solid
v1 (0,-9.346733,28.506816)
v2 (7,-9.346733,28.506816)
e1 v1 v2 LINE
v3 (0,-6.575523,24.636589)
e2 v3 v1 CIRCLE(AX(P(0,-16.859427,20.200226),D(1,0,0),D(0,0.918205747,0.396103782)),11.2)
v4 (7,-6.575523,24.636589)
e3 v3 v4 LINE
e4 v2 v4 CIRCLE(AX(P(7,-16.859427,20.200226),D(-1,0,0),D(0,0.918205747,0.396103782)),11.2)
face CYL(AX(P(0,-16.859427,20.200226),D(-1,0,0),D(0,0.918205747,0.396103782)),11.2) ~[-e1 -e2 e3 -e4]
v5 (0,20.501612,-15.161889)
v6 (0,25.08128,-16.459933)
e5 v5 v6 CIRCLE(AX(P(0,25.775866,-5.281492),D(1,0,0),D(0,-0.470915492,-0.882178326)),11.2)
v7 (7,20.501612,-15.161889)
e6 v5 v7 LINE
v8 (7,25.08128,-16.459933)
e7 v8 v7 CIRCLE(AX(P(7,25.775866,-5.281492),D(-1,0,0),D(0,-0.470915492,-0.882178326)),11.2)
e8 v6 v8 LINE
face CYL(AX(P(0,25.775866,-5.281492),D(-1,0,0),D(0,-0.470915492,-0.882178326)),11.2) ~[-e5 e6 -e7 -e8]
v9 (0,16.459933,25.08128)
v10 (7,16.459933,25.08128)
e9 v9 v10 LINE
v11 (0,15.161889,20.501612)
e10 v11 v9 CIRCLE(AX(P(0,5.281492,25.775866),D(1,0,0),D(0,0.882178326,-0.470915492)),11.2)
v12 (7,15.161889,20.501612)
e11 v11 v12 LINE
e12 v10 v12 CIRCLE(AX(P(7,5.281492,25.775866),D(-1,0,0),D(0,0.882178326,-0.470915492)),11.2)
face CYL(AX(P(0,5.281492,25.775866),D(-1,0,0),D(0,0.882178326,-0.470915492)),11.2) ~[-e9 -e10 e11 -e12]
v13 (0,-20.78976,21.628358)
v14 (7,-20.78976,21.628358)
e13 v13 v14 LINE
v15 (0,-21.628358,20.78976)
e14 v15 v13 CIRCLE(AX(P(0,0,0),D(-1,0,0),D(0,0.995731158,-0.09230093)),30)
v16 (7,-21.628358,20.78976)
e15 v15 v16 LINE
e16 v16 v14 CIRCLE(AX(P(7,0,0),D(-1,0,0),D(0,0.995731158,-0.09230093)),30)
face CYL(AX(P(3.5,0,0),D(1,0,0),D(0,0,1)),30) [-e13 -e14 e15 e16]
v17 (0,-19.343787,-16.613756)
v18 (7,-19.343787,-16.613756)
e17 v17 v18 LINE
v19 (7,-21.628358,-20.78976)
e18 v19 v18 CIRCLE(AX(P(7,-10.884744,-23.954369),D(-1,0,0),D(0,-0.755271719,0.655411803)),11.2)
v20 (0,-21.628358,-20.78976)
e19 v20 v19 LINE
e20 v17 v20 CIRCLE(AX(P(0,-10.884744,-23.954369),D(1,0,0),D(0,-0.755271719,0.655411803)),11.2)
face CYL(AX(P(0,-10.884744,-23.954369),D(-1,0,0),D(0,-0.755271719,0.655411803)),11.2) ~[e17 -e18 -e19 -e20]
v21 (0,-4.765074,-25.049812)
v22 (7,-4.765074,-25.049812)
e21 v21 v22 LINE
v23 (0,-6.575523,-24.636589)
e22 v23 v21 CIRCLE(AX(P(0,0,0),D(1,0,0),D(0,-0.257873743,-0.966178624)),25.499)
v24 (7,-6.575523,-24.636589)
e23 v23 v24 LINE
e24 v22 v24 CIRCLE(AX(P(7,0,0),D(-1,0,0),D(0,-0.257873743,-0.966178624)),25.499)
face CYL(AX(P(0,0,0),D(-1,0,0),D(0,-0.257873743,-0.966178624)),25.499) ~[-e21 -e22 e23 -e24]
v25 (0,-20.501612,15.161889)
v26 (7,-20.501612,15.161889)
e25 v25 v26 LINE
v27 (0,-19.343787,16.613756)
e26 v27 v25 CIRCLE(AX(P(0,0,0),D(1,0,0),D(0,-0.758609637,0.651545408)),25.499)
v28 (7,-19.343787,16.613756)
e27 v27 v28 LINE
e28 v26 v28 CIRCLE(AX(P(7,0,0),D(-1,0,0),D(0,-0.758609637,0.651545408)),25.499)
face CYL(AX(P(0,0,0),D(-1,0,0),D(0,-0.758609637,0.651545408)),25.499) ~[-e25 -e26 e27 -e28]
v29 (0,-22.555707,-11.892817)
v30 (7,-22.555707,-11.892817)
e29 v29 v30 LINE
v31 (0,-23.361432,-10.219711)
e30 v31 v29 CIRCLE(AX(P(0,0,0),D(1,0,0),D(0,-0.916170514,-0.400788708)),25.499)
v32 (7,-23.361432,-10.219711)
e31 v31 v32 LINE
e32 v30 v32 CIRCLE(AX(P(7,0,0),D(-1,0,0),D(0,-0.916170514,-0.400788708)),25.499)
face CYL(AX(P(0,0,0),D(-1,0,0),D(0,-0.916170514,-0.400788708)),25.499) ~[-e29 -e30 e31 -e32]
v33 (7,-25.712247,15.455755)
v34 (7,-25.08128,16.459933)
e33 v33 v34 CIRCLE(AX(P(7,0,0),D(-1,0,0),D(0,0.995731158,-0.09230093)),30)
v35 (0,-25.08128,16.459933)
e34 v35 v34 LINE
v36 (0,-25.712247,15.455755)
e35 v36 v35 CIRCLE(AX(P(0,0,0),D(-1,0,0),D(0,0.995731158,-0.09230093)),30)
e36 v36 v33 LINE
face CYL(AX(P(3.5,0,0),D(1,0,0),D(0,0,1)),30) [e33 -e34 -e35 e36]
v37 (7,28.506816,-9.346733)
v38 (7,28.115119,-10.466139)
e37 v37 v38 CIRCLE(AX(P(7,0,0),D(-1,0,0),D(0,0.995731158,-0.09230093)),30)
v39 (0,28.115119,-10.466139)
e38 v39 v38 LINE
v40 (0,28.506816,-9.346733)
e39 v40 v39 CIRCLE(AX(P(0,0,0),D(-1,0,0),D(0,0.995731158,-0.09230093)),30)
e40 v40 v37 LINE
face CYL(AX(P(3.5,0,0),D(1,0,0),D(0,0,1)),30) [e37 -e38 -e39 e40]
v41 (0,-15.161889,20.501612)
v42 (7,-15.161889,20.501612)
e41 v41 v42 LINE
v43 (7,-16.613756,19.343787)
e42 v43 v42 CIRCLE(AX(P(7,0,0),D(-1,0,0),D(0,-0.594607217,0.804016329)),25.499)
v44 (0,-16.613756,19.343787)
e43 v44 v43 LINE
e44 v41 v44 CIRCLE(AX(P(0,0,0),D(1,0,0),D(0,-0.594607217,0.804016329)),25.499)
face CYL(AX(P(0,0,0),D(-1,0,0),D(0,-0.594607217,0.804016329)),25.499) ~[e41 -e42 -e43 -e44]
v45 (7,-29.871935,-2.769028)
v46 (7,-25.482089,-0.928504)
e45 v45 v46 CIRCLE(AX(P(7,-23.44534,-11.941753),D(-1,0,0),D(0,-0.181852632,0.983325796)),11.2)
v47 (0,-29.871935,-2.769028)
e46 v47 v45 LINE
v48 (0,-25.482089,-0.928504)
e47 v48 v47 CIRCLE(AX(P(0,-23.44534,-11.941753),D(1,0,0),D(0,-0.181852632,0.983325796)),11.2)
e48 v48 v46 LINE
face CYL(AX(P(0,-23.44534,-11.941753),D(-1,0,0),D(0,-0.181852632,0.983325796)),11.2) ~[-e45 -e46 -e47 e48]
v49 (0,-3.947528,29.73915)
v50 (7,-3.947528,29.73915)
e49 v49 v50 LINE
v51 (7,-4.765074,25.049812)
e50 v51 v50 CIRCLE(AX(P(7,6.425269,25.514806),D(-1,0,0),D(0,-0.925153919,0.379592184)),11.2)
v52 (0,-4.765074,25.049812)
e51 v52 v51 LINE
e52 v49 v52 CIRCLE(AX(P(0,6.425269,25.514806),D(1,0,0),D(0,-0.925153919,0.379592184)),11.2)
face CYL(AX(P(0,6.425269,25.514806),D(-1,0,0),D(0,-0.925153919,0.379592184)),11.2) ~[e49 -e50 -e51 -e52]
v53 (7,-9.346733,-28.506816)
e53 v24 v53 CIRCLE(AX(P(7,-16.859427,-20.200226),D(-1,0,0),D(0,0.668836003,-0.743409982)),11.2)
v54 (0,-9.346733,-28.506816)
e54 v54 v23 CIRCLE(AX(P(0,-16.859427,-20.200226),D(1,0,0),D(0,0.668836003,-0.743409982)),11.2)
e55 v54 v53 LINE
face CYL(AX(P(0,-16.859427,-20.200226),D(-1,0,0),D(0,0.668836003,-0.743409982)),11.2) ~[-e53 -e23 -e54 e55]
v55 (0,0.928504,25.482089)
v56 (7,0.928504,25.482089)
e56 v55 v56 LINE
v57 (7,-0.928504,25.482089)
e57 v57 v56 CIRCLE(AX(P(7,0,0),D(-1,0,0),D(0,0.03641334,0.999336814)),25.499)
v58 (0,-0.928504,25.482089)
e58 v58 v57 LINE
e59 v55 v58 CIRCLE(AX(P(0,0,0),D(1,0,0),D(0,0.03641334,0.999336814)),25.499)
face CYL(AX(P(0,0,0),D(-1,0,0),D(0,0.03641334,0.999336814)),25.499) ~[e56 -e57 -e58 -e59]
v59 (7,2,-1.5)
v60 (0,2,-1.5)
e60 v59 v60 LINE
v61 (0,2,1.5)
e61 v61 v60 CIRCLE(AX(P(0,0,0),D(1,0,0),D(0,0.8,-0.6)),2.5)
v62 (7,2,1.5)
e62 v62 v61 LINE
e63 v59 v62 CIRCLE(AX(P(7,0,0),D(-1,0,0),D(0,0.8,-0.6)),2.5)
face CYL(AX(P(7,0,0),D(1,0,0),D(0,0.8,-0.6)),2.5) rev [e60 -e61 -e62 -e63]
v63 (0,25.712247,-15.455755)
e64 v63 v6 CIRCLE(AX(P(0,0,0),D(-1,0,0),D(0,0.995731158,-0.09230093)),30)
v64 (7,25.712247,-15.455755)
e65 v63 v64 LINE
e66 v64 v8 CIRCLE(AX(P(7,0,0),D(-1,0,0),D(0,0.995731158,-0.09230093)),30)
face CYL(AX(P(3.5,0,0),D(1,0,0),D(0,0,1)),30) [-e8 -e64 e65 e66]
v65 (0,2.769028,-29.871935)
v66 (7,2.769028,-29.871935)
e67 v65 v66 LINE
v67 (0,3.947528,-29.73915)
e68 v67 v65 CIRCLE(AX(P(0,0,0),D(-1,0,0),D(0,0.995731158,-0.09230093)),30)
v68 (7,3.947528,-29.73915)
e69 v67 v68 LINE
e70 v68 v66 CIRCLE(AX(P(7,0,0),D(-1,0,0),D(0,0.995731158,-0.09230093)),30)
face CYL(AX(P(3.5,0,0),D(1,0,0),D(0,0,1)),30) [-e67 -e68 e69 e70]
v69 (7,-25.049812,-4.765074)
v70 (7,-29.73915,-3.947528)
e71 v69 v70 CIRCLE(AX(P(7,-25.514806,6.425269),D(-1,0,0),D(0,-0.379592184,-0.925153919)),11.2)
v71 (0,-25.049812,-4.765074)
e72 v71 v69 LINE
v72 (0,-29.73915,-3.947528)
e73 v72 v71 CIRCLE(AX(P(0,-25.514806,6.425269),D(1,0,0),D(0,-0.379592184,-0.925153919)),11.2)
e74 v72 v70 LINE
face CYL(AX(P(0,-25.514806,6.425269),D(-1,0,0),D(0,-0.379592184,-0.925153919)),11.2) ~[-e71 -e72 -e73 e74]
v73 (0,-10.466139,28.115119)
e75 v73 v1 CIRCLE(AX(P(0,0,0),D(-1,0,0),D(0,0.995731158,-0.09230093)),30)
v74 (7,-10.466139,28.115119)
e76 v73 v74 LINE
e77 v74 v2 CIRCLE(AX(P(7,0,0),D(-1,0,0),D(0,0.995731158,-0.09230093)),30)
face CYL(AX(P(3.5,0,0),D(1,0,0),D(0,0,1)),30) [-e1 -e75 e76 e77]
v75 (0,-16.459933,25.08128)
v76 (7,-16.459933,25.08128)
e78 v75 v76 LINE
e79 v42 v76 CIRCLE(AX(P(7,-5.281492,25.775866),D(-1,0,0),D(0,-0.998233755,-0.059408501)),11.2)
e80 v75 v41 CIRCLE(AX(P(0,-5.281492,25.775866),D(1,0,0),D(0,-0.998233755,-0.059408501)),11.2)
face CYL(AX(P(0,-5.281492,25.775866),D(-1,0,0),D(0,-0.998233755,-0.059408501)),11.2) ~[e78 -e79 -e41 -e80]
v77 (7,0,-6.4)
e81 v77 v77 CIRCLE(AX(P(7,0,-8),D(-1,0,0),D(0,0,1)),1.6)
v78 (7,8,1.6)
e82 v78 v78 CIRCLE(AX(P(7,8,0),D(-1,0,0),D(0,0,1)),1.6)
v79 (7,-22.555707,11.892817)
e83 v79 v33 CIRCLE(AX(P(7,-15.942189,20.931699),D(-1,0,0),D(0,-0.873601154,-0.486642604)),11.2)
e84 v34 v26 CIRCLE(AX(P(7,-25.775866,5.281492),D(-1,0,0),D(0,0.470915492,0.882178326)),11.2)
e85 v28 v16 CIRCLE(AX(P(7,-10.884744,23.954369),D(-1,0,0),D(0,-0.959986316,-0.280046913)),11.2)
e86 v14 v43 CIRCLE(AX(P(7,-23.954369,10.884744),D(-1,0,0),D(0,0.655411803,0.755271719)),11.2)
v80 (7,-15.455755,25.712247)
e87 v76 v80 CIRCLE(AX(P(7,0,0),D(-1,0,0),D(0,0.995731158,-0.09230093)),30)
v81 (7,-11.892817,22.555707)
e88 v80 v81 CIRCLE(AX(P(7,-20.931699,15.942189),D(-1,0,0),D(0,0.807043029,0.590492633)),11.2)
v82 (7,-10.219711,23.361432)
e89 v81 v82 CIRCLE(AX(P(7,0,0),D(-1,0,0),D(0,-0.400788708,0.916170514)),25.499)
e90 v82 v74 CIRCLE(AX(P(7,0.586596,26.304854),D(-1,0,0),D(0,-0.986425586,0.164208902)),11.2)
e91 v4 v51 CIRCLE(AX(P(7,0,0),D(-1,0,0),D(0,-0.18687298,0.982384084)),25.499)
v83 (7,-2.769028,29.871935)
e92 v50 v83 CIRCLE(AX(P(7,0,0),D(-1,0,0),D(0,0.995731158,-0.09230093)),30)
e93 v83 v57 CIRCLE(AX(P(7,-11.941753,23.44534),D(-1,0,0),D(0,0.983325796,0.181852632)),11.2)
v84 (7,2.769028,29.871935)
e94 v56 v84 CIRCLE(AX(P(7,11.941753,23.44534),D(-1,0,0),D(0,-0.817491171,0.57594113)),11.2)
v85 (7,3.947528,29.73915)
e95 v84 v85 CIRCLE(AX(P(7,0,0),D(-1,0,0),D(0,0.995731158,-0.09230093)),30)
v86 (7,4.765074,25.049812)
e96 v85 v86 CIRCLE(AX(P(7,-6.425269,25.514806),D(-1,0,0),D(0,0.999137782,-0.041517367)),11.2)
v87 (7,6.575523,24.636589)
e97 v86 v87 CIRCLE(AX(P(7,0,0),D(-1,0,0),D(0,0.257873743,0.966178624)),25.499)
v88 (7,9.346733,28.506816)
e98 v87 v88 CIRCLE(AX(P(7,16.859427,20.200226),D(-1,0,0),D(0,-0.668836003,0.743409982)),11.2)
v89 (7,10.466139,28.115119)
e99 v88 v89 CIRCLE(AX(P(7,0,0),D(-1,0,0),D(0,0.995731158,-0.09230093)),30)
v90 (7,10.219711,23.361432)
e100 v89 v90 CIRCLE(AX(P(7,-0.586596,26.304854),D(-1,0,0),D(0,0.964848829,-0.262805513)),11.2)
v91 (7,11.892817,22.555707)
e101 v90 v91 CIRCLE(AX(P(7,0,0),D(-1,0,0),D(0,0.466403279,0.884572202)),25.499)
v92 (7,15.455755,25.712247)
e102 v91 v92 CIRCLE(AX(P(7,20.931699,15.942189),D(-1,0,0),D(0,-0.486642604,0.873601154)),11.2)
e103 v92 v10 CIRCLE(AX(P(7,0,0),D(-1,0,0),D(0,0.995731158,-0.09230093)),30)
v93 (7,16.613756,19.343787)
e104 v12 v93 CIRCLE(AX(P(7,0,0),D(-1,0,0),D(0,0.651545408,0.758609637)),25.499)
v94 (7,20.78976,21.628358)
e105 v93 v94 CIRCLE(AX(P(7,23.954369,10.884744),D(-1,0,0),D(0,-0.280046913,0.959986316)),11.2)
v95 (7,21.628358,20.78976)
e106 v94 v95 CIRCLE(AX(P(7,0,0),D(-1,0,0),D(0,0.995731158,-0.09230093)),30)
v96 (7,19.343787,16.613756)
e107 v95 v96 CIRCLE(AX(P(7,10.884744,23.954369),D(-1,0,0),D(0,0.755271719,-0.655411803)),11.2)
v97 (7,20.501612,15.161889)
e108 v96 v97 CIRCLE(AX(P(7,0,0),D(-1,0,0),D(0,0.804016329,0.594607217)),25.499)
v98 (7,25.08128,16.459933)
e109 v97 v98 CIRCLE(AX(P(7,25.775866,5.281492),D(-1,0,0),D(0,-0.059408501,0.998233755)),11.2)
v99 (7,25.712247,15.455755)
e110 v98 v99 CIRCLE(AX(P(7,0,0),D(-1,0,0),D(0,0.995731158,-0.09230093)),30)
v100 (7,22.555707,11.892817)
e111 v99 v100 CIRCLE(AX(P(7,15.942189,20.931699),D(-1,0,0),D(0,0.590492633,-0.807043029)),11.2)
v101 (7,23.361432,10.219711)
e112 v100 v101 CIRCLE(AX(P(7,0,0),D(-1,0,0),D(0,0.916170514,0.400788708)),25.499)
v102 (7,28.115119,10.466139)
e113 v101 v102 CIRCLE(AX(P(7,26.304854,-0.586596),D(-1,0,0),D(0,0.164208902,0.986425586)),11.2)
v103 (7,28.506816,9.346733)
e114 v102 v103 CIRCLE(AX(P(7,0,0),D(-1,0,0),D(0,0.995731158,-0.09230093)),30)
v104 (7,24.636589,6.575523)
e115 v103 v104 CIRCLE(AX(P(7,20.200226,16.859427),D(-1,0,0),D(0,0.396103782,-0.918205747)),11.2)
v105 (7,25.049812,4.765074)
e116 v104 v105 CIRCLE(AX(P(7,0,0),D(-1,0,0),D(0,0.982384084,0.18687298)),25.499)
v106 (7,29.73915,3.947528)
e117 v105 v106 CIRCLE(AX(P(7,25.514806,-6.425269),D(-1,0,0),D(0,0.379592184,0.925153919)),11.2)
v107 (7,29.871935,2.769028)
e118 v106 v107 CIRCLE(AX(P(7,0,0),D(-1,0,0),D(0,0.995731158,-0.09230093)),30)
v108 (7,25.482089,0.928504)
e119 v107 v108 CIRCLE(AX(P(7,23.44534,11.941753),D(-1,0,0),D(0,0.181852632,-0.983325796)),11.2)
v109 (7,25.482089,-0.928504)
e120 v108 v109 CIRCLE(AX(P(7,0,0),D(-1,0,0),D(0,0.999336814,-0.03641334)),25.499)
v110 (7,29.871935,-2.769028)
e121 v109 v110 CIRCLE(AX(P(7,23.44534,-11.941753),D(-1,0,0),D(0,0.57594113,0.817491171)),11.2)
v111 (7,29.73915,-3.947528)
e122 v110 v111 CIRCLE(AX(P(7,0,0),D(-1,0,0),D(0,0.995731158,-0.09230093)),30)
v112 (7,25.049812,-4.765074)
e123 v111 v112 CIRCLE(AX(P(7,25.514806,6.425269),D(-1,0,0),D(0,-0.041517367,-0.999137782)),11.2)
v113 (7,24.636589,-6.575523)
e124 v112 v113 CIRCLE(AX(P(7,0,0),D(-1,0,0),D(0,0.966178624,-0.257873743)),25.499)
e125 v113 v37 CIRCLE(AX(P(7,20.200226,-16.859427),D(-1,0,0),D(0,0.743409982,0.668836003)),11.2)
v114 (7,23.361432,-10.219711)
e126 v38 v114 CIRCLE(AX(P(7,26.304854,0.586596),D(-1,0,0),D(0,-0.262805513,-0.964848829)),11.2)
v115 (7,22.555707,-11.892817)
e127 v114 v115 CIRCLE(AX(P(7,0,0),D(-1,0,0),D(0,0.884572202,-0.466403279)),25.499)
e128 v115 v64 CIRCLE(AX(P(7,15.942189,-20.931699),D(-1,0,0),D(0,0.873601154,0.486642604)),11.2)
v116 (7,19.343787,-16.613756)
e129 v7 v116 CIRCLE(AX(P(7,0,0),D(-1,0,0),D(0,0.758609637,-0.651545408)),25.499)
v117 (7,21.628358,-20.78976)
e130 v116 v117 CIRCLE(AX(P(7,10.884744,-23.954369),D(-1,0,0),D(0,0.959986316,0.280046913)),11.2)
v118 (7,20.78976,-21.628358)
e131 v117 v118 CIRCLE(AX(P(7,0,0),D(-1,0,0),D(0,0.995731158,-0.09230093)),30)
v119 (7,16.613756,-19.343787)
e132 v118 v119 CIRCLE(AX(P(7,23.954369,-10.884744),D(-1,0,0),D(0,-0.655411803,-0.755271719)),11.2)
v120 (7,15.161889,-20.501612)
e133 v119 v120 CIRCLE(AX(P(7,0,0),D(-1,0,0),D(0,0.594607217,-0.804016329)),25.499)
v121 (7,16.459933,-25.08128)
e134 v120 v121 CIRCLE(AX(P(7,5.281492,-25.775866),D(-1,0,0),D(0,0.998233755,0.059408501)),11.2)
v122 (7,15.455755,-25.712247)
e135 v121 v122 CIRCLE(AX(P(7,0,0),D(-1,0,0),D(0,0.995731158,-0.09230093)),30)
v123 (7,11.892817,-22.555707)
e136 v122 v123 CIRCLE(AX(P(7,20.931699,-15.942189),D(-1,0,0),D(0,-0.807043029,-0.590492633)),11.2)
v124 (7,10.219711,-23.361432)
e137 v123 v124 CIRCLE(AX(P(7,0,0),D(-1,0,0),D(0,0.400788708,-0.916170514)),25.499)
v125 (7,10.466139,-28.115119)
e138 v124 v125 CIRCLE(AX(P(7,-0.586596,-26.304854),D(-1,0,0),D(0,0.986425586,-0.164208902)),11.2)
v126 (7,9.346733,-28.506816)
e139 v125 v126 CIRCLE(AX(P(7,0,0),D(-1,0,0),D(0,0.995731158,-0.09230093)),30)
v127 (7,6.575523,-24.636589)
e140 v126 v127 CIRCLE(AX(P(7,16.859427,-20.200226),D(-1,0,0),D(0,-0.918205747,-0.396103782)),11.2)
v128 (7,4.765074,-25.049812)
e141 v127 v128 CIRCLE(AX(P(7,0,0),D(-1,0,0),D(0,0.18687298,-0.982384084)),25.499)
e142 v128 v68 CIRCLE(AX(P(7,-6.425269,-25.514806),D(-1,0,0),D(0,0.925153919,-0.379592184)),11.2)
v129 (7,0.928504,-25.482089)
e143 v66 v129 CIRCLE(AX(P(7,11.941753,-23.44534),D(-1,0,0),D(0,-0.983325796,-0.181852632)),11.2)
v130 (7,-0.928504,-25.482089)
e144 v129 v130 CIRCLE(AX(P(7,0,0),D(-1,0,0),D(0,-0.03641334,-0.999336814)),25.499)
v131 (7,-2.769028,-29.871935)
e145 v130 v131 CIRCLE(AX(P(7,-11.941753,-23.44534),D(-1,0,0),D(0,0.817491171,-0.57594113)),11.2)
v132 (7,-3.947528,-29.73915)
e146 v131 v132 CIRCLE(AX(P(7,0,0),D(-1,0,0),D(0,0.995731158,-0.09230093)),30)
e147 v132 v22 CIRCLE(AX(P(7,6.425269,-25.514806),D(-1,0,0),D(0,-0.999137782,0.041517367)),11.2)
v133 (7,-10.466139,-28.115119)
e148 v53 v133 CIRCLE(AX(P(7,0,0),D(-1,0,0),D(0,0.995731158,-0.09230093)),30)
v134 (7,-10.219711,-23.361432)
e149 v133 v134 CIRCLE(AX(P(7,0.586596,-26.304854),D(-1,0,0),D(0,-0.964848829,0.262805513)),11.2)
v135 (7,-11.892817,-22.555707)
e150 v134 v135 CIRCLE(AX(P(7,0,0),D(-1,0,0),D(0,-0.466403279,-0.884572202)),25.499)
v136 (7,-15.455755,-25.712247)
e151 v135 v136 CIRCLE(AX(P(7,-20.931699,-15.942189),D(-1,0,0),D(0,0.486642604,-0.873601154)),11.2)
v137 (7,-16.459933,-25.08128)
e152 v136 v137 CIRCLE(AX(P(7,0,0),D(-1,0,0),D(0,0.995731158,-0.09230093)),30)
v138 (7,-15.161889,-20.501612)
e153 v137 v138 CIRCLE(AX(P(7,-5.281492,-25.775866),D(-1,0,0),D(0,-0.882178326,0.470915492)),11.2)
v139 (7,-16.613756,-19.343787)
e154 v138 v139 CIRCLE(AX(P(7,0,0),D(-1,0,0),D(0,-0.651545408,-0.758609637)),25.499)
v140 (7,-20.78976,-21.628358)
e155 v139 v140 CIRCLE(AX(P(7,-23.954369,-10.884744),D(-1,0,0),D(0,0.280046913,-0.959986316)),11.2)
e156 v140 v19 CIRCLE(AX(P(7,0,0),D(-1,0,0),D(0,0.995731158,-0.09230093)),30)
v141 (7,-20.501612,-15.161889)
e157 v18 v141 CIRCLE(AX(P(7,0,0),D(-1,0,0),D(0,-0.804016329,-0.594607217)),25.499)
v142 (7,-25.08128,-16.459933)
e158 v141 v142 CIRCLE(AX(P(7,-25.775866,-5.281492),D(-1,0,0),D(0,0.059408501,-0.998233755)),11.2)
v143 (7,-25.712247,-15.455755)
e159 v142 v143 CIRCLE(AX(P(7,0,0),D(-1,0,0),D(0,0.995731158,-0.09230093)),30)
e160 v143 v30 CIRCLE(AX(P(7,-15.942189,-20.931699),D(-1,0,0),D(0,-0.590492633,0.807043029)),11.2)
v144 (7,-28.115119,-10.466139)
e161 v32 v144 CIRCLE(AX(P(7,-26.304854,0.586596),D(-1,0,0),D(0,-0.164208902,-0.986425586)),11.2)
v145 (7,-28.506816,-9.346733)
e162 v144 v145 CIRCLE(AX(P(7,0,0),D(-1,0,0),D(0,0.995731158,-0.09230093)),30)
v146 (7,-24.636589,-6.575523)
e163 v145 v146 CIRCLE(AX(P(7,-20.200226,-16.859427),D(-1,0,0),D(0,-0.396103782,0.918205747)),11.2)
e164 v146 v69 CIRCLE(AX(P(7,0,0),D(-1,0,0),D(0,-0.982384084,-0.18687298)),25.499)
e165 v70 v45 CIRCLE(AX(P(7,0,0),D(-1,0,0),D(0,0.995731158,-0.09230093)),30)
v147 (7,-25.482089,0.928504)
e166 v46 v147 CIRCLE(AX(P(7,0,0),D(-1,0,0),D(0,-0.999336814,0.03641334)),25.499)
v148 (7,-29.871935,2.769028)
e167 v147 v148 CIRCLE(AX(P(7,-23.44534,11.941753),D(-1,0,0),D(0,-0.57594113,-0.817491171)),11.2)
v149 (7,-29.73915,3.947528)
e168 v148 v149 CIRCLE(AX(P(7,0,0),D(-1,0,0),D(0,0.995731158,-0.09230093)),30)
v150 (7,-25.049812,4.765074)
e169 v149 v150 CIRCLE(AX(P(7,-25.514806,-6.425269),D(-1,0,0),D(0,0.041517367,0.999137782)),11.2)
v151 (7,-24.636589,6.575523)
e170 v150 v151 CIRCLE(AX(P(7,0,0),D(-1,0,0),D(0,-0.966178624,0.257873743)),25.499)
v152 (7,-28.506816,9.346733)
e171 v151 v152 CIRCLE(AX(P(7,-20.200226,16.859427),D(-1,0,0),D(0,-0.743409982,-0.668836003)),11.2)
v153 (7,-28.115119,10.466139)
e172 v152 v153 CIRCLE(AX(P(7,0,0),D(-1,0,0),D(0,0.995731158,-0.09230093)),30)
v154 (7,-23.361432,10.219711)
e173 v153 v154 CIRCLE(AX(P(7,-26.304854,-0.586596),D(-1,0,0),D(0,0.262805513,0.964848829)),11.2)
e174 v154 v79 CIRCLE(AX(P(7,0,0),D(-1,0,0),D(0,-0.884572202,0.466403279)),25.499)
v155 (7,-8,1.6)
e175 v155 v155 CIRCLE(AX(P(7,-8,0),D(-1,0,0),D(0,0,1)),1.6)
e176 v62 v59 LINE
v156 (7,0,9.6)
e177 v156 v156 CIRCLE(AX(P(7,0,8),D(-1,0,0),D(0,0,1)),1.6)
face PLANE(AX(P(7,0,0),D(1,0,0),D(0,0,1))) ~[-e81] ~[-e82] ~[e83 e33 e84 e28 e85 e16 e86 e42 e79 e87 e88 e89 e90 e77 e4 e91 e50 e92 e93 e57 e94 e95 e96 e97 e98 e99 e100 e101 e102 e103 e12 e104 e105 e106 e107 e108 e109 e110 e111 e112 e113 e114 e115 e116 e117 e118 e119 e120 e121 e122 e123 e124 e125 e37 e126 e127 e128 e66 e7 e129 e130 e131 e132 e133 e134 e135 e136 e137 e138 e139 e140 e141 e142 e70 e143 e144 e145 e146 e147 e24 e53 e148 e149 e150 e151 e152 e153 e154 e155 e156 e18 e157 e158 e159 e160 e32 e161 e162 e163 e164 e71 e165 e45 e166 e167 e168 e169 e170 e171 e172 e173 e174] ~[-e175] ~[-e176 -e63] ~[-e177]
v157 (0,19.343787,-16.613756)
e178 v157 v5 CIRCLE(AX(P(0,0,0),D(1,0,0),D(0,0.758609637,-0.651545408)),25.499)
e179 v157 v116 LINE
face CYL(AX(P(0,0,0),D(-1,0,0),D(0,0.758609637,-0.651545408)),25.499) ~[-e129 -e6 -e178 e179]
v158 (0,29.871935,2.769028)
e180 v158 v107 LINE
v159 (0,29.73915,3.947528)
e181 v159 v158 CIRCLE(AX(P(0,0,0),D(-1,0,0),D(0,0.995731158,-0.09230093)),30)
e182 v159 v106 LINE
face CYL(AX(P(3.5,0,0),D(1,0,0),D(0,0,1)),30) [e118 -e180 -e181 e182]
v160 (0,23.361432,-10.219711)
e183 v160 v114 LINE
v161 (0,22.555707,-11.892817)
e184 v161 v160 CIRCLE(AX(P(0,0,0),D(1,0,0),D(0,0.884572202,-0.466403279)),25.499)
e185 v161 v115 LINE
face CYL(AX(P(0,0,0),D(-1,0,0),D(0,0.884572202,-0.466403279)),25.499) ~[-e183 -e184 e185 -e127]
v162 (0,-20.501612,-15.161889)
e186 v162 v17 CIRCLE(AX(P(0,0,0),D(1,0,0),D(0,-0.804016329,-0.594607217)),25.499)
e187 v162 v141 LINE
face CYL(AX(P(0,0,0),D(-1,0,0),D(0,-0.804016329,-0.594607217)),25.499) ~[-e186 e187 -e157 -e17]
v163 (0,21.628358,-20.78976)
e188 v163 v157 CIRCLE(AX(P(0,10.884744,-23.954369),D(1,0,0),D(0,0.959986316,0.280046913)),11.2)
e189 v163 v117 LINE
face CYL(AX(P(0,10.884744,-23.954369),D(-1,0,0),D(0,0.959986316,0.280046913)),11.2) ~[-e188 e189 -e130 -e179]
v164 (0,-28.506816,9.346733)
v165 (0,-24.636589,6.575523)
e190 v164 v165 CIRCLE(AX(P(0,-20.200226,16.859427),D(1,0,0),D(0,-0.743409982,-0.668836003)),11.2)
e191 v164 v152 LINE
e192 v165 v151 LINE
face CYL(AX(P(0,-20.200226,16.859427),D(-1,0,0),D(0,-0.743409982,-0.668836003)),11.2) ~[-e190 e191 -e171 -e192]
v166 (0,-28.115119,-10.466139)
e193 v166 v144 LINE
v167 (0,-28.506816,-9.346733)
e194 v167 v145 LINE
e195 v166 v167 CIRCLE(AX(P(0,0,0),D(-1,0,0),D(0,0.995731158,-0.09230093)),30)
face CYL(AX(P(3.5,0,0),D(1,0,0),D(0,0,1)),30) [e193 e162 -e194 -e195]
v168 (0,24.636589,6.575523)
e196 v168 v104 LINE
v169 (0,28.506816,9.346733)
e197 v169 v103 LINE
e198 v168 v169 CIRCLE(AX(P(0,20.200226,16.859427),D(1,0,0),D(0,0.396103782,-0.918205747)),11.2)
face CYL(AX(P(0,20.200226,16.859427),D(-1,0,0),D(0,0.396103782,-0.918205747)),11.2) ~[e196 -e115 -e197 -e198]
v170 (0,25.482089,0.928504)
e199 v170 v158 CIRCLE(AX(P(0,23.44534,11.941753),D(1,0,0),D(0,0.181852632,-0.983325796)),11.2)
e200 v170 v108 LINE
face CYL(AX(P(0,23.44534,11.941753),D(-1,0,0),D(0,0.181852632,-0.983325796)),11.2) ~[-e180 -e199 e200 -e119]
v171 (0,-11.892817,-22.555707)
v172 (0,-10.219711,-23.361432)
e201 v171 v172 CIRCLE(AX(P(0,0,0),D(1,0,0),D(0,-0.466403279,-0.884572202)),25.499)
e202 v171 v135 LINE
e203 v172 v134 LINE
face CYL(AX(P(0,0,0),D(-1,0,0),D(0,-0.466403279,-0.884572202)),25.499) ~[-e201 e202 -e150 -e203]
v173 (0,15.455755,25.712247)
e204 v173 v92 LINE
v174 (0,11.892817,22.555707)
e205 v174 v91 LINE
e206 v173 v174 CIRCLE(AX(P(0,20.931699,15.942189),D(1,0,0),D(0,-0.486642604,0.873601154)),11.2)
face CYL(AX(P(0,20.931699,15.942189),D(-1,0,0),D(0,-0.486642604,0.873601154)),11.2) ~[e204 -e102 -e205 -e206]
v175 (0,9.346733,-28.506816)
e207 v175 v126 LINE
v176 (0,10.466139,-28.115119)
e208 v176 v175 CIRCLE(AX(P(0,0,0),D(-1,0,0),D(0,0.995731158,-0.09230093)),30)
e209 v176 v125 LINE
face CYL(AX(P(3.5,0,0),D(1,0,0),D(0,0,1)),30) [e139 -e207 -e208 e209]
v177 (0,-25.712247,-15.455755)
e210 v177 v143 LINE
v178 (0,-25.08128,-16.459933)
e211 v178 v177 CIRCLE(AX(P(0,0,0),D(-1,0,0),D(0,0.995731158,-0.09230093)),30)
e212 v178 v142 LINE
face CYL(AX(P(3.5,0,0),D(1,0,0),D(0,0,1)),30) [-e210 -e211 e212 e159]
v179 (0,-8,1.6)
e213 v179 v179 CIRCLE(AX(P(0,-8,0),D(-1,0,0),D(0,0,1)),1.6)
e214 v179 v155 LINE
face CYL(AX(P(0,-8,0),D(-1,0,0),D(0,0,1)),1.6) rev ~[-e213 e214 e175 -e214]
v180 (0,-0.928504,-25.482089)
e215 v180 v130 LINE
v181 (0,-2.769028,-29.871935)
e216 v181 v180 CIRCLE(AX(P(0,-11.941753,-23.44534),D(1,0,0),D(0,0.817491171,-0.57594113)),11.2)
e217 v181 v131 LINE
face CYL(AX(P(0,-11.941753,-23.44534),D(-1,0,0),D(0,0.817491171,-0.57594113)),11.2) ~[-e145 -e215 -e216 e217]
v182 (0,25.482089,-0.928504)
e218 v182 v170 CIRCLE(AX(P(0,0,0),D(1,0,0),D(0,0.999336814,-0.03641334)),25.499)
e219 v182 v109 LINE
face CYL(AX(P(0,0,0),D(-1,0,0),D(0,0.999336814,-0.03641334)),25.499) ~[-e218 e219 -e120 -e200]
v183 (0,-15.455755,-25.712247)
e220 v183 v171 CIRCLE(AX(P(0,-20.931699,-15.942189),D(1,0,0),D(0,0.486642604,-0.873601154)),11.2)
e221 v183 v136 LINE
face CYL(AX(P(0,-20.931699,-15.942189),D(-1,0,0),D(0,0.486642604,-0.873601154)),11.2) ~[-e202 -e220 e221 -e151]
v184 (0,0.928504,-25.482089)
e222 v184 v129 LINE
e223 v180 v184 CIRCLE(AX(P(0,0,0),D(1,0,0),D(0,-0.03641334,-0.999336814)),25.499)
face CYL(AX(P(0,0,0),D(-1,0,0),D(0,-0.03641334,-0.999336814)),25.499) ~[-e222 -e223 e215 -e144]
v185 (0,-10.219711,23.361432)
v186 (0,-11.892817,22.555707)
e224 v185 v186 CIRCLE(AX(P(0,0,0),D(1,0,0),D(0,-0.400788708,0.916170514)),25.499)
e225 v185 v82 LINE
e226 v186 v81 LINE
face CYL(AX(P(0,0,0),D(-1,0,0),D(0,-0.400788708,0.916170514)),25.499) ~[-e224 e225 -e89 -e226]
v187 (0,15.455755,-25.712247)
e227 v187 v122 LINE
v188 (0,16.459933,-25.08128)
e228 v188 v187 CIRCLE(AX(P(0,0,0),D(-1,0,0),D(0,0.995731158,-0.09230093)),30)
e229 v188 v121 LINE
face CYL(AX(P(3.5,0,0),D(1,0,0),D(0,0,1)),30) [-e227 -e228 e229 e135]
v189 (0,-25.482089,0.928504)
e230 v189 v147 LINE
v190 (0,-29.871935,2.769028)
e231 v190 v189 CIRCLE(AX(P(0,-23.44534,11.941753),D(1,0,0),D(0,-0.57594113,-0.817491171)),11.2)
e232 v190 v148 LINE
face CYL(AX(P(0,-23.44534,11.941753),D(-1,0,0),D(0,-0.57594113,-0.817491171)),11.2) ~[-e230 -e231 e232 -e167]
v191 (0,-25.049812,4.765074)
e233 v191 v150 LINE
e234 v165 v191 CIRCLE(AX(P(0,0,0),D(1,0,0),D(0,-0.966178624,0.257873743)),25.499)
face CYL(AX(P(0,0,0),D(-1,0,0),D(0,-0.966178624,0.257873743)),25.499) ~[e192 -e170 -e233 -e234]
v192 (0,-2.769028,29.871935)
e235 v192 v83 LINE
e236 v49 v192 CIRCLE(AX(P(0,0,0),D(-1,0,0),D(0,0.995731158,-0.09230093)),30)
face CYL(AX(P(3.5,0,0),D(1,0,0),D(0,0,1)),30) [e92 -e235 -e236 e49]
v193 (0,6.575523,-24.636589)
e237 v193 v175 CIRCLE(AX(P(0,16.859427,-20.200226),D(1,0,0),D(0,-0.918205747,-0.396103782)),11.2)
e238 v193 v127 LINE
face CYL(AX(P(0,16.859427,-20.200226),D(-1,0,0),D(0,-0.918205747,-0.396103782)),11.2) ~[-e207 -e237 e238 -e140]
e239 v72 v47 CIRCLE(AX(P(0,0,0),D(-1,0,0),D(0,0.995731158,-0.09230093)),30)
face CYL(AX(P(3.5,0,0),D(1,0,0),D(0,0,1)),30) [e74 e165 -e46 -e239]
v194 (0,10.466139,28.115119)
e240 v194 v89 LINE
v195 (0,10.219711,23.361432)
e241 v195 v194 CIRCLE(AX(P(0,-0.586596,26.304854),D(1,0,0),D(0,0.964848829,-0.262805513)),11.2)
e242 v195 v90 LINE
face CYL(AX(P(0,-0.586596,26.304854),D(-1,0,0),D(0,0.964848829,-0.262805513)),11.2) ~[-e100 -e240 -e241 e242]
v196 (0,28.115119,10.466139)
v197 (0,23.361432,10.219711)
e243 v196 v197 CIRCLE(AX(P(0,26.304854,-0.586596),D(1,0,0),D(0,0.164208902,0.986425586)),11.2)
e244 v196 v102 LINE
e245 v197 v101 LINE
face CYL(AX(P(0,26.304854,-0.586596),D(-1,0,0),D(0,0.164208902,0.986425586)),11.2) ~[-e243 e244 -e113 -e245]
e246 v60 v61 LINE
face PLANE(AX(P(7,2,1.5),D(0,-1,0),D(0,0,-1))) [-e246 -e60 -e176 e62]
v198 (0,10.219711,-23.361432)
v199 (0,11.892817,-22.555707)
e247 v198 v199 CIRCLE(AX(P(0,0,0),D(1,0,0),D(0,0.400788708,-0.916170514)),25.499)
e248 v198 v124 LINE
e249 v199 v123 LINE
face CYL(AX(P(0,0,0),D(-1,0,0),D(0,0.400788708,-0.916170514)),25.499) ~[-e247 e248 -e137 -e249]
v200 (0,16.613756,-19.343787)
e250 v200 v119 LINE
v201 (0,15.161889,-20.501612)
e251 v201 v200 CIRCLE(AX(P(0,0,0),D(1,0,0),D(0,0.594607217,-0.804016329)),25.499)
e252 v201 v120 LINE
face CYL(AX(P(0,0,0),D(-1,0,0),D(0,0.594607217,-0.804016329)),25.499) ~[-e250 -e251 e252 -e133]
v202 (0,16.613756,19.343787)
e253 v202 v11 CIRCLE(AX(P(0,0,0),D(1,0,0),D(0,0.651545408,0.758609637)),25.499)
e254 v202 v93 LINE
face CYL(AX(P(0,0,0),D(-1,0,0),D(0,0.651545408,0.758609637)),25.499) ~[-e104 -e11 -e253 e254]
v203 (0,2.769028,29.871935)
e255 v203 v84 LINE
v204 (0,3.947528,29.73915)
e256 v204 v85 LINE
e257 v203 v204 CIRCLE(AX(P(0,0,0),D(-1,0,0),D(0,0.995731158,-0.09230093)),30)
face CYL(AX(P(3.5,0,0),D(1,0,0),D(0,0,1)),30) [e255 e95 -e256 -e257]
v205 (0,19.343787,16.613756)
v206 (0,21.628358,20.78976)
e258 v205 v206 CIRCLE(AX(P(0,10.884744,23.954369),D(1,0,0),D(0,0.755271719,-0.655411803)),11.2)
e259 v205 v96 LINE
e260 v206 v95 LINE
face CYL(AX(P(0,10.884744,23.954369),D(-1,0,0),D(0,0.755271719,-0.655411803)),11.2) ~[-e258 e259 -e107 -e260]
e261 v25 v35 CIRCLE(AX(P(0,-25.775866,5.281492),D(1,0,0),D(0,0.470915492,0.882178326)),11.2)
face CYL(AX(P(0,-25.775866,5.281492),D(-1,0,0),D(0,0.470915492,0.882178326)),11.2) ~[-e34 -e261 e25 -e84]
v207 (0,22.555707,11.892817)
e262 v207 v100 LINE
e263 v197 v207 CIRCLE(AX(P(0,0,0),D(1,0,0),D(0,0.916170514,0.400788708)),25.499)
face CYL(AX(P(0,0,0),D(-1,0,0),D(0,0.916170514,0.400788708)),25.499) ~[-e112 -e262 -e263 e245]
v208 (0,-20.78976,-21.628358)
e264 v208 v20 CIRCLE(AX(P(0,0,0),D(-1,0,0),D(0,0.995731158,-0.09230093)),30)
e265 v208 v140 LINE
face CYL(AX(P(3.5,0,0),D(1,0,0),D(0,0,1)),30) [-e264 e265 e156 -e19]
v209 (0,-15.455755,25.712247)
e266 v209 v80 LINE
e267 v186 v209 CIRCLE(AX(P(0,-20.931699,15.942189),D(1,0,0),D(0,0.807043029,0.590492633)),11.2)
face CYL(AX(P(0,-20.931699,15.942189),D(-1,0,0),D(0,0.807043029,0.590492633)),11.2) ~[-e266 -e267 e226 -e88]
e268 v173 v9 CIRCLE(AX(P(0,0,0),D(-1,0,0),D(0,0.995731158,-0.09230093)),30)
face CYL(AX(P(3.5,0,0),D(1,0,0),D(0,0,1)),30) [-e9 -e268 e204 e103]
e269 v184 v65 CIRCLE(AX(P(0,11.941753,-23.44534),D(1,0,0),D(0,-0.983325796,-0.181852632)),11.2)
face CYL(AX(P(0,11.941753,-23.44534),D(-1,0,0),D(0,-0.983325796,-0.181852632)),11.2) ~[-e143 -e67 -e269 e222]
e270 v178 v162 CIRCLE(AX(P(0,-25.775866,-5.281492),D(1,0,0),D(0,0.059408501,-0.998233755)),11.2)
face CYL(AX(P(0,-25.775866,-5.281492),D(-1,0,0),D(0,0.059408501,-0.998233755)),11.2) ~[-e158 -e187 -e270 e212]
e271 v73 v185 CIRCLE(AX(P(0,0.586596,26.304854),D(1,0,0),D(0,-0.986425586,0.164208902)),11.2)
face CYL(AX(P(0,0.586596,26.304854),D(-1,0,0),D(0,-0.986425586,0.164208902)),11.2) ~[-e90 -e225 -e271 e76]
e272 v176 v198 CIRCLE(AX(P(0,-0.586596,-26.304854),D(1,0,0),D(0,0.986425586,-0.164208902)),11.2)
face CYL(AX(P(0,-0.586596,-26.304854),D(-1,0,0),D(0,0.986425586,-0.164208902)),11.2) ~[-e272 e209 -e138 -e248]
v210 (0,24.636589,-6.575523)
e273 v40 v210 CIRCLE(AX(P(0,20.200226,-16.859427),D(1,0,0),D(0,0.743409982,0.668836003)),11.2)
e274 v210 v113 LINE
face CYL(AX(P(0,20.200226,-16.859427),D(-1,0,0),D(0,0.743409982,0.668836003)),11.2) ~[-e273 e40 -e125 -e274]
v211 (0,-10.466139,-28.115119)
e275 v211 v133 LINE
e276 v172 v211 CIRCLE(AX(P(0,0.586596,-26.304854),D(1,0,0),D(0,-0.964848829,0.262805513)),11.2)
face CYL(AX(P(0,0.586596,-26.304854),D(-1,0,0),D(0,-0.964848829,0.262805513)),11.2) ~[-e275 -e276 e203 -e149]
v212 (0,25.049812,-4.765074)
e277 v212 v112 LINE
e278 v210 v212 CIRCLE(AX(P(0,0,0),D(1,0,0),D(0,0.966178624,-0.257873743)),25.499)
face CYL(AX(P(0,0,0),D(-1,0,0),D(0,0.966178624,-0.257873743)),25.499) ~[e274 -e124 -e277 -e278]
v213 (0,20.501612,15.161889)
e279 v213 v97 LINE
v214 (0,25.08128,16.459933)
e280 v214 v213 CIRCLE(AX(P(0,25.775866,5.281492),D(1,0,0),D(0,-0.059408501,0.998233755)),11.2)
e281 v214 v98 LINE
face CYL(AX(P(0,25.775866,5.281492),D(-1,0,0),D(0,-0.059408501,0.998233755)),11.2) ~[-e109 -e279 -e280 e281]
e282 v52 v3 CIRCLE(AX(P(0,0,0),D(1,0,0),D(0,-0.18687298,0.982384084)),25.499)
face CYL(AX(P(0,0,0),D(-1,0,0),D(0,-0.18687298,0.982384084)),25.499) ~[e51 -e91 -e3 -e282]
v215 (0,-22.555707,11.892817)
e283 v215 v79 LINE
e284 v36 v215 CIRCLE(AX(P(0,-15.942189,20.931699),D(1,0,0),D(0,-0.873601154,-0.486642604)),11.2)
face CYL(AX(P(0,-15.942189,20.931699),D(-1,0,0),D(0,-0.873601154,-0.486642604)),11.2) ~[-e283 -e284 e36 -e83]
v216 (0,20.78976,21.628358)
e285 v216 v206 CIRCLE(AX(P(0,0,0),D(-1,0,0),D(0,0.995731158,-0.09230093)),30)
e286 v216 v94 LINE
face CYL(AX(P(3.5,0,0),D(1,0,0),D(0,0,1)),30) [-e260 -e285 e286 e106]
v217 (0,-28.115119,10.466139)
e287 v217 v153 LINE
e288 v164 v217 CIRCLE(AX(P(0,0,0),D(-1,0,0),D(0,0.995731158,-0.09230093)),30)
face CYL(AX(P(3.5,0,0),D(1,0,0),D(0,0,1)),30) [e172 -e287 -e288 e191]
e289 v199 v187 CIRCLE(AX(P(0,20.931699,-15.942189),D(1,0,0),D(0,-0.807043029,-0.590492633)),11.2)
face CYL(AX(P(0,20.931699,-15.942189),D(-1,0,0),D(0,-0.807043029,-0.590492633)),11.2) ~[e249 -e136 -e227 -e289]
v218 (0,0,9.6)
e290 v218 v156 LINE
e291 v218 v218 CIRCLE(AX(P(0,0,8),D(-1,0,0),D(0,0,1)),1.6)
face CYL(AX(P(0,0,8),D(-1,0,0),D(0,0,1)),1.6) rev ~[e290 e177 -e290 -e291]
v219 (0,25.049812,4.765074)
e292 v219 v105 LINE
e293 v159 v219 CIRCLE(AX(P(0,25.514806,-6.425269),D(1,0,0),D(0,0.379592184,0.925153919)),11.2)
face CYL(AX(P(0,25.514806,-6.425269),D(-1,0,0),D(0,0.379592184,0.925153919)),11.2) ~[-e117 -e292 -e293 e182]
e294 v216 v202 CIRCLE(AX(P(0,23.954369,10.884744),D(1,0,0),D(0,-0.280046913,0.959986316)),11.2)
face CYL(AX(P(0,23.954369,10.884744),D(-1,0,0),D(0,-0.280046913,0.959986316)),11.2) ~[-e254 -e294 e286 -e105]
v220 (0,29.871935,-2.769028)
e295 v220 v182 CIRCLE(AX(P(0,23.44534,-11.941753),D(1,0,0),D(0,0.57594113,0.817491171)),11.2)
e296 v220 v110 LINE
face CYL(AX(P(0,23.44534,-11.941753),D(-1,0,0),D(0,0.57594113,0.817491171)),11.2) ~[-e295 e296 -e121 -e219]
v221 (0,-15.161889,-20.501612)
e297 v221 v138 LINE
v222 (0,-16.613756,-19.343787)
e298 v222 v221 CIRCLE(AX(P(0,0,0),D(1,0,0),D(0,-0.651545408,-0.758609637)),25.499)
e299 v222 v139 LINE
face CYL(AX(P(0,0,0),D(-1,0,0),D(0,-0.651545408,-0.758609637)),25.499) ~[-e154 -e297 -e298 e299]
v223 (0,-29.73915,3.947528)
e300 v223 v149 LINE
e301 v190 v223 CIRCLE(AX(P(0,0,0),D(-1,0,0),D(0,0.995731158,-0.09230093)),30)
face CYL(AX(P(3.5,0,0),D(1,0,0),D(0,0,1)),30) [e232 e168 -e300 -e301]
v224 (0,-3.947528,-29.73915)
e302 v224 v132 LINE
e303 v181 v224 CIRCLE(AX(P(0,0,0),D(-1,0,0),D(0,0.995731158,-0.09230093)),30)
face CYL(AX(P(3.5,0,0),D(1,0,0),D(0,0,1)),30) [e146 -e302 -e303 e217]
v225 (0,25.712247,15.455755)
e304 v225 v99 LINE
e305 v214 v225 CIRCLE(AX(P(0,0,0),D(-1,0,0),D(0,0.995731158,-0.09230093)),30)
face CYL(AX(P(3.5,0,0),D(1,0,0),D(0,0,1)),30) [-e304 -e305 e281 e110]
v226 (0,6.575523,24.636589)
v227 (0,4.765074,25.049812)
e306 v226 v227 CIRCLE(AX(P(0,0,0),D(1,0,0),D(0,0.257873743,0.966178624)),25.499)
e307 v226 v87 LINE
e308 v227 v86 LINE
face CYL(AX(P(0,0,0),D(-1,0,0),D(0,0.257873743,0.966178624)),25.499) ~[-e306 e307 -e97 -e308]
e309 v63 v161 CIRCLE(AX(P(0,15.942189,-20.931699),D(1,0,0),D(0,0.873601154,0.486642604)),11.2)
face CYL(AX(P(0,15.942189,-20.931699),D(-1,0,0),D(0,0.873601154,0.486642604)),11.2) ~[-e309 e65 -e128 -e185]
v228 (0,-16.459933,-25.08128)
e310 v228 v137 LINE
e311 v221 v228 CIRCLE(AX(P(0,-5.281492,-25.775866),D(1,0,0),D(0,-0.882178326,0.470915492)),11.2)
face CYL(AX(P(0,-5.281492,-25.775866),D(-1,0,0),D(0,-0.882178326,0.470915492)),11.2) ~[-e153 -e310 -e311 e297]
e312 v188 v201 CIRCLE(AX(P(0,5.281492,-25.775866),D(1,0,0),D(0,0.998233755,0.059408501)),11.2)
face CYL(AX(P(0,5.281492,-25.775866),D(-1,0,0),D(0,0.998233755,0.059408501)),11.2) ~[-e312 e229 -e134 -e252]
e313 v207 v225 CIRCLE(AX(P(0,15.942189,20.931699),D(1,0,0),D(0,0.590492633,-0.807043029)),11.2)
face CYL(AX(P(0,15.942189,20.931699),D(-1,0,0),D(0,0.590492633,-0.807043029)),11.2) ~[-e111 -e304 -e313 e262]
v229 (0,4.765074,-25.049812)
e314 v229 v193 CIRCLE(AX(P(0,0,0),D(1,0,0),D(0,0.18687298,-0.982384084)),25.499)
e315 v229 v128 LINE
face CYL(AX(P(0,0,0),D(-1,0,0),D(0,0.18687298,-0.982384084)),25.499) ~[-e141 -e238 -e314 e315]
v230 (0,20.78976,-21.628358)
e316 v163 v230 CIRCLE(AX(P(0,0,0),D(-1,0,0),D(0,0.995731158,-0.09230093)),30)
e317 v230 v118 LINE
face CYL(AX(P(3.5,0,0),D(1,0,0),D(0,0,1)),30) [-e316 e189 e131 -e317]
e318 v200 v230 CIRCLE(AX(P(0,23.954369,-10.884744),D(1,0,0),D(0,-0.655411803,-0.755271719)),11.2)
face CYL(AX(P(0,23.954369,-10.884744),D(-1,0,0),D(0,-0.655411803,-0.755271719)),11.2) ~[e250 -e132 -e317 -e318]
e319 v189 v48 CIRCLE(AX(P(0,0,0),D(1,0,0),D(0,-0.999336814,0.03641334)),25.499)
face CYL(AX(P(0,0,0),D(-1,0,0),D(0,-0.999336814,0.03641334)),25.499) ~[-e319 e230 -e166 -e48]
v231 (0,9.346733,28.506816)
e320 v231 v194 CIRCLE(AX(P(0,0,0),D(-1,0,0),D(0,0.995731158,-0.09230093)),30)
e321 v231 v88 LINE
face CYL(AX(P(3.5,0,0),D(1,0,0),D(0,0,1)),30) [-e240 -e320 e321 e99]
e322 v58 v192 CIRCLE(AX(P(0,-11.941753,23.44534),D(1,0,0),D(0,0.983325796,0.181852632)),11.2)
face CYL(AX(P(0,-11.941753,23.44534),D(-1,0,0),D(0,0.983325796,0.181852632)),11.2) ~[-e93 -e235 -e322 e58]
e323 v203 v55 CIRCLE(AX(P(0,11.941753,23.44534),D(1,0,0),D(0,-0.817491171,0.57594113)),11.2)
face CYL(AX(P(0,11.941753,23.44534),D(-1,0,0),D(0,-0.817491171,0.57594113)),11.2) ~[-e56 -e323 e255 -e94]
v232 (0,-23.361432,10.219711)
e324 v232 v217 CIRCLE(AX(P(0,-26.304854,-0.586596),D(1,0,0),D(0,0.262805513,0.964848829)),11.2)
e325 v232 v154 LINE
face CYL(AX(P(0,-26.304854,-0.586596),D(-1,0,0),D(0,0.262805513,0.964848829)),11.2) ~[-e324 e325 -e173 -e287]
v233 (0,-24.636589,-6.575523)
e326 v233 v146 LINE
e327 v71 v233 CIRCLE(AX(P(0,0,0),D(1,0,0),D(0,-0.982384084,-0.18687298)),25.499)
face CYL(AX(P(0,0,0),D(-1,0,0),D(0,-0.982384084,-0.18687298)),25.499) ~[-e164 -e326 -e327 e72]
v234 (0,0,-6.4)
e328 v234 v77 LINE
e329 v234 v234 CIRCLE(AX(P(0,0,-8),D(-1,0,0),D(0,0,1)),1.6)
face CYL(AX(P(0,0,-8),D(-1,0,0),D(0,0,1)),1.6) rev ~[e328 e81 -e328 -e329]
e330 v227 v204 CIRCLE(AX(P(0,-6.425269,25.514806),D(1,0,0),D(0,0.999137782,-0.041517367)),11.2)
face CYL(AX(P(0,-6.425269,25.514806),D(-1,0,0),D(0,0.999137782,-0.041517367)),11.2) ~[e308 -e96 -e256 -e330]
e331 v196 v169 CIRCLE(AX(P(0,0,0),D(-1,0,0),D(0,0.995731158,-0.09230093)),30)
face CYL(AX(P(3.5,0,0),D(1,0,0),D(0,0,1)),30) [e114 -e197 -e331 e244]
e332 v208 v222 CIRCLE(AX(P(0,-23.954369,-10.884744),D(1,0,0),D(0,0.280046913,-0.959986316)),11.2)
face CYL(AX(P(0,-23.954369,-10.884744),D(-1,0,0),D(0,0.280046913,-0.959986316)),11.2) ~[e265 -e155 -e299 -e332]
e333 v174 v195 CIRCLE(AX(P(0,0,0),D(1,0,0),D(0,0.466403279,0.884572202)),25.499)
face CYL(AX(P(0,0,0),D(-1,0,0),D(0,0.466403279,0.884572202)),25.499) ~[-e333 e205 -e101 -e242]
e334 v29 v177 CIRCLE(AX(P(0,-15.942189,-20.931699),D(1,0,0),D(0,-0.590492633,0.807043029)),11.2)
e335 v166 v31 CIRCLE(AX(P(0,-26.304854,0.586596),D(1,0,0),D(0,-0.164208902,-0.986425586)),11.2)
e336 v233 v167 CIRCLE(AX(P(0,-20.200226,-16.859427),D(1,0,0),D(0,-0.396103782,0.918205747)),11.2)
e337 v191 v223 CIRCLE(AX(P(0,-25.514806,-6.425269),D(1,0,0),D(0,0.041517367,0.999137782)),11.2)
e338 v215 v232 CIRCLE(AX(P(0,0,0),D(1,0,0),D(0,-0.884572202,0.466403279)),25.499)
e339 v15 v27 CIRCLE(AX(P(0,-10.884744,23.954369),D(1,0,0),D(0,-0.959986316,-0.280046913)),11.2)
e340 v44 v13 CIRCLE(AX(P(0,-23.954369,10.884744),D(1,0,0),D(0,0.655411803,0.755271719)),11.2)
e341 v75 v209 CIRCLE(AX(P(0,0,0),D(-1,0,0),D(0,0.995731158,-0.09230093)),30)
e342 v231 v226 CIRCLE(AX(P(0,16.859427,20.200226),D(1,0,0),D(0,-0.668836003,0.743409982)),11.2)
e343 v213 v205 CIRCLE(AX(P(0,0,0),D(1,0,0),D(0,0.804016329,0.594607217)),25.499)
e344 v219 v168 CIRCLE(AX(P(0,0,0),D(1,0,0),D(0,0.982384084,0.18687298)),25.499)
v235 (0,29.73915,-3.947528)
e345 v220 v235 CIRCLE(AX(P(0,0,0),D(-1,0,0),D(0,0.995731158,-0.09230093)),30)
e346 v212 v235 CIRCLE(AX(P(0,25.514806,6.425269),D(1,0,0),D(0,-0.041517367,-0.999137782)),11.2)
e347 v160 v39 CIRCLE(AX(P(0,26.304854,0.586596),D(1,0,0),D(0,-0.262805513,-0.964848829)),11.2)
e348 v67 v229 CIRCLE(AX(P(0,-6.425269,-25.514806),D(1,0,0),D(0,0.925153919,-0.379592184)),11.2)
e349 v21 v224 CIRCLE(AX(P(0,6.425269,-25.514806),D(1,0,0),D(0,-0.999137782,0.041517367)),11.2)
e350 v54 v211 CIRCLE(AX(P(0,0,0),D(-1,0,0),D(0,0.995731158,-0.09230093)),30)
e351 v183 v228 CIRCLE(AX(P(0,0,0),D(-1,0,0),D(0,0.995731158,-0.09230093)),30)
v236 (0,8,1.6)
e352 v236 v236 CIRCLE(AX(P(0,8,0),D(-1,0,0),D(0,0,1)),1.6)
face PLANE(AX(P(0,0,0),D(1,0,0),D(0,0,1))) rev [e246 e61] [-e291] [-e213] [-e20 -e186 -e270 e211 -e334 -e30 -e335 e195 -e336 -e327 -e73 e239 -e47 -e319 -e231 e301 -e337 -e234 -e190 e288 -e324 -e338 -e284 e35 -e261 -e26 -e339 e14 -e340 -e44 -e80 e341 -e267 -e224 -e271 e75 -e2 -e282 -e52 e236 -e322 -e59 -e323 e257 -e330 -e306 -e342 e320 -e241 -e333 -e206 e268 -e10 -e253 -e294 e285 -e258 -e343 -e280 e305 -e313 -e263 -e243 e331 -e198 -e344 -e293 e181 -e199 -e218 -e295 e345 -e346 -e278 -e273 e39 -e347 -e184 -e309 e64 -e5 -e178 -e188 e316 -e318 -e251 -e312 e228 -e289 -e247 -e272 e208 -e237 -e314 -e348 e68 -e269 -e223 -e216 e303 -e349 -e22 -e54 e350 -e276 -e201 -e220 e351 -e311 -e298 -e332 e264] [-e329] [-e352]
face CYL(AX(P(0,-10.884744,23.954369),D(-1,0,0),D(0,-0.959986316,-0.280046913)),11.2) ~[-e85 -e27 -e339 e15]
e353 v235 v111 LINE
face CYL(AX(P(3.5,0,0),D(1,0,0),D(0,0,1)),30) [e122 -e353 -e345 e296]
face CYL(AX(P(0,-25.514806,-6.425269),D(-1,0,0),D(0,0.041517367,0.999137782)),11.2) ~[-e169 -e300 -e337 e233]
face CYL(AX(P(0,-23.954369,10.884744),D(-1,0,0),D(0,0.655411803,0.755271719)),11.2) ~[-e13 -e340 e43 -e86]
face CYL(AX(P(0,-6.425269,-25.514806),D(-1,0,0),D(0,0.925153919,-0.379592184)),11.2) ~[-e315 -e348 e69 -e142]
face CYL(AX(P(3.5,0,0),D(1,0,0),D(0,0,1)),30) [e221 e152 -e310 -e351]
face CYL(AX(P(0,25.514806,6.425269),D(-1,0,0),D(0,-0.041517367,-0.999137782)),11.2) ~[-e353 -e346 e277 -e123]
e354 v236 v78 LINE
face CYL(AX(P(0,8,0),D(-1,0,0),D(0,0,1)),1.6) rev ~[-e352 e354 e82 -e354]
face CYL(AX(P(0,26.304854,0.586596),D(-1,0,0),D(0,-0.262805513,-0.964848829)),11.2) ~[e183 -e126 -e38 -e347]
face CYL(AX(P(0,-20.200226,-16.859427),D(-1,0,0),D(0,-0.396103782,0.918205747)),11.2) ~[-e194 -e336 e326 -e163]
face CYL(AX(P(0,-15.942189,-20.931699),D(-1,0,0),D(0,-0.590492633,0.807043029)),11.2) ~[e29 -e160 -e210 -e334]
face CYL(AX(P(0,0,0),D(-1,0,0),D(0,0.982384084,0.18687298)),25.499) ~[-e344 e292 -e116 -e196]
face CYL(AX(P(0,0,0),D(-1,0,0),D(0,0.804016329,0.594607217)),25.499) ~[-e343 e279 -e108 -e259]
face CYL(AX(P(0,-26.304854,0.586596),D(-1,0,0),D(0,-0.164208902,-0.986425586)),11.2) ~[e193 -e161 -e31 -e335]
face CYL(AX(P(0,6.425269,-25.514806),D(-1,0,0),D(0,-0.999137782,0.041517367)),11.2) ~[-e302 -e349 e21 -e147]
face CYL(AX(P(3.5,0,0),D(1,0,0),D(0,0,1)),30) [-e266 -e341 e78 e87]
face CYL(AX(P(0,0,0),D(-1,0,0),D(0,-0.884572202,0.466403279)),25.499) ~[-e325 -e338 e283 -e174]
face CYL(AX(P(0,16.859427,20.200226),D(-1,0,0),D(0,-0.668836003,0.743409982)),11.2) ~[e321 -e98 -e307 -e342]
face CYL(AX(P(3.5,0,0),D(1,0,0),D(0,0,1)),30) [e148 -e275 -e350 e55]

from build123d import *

# Parameters (mm, degrees)
BASPROSKE_W              = 7
BASPROSKE_H              = 30
TOOTHCUT_DEPTH           = 44
TEETHCUTS_COUNT          = 28
TEETHCUTS_ANGLE          = 347.142857143
BORSKE_R                 = 0.1
BORE_DEPTH               = 50.0000508
TAGLIO_ESTRUSIONE1_DEPTH = 30
SCHIZZO2_R               = 1.6
TAGLIO_ESTRUSIONE2_DEPTH = 10


with BuildPart() as part:
    # BasProSke → Base-Revolve (revolve)
    with BuildSketch(Plane(origin=(0, 0, 0), x_dir=(1, 0, 0), z_dir=(0, 1, 0)), mode=Mode.PRIVATE) as base_revolve_sk:
        with Locations((3.5, 15)):
            Rectangle(BASPROSKE_W, BASPROSKE_H)
    revolve(base_revolve_sk.sketch.rotate(Axis((-10, 0, 0), (1, 0, 0)), 180), axis=Axis((-10, 0, 0), (1, 0, 0)))

    # TooCutSke → ToothCut (cut, through all)
    with BuildSketch(Plane(origin=(0, 0, 0), x_dir=(0, 0, -1), z_dir=(1, 0, 0))):
        with BuildLine():
            ThreePointArc((0.928503763, 25.482089431), (0, 25.499), (-0.928503763, 25.482089431))
            ThreePointArc((-0.928503763, 25.482089431), (-1.618524429, 27.789411612), (-2.78585155, 29.895880591))
            ThreePointArc((-2.78585155, 29.895880591), (0, 30.0254), (2.78585155, 29.895880591))
            ThreePointArc((2.78585155, 29.895880591), (1.618524429, 27.789411612), (0.928503763, 25.482089431))
        make_face()
    toothcut = extrude(amount=TOOTHCUT_DEPTH, mode=Mode.SUBTRACT)

    # TeethCuts: ToothCut ×28 about axis
    teethcuts_axis = Axis((-10, 0, 0), (1, 0, 0))
    for i in range(1, TEETHCUTS_COUNT):
        add(toothcut.rotate(teethcuts_axis, i * TEETHCUTS_ANGLE / (TEETHCUTS_COUNT - 1)), mode=Mode.SUBTRACT)

    # BorSke → Bore (cut, symmetric)
    with BuildSketch(Plane(origin=(0, 0, 0), x_dir=(0, 0, -1), z_dir=(1, 0, 0))):
        with Locations(Location((0, 0, 0), (0, 0, 180))):
            Circle(BORSKE_R)
    extrude(amount=BORE_DEPTH, both=True, mode=Mode.SUBTRACT)

    # Schizzo1 → Taglio-Estrusione1 (cut)
    with BuildSketch(Plane(origin=(7, 0, 0), x_dir=(0, 0, -1), z_dir=(1, 0, 0))):
        with BuildLine():
            Line((-1.5, 2), (1.5, 2))
            ThreePointArc((1.5, 2), (0, -2.5), (-1.5, 2))
        make_face()
    extrude(amount=-TAGLIO_ESTRUSIONE1_DEPTH, mode=Mode.SUBTRACT)

    # Schizzo2 → Taglio-Estrusione2 (cut)
    with BuildSketch(Plane.ZY):
        with Locations((0, 8)):
            Circle(SCHIZZO2_R)
        with Locations((8, 0)):
            Circle(SCHIZZO2_R)
        with Locations((0, -8)):
            Circle(SCHIZZO2_R)
        with Locations((-8, 0)):
            Circle(SCHIZZO2_R)
    extrude(amount=-TAGLIO_ESTRUSIONE2_DEPTH, mode=Mode.SUBTRACT)


solid = part.part
